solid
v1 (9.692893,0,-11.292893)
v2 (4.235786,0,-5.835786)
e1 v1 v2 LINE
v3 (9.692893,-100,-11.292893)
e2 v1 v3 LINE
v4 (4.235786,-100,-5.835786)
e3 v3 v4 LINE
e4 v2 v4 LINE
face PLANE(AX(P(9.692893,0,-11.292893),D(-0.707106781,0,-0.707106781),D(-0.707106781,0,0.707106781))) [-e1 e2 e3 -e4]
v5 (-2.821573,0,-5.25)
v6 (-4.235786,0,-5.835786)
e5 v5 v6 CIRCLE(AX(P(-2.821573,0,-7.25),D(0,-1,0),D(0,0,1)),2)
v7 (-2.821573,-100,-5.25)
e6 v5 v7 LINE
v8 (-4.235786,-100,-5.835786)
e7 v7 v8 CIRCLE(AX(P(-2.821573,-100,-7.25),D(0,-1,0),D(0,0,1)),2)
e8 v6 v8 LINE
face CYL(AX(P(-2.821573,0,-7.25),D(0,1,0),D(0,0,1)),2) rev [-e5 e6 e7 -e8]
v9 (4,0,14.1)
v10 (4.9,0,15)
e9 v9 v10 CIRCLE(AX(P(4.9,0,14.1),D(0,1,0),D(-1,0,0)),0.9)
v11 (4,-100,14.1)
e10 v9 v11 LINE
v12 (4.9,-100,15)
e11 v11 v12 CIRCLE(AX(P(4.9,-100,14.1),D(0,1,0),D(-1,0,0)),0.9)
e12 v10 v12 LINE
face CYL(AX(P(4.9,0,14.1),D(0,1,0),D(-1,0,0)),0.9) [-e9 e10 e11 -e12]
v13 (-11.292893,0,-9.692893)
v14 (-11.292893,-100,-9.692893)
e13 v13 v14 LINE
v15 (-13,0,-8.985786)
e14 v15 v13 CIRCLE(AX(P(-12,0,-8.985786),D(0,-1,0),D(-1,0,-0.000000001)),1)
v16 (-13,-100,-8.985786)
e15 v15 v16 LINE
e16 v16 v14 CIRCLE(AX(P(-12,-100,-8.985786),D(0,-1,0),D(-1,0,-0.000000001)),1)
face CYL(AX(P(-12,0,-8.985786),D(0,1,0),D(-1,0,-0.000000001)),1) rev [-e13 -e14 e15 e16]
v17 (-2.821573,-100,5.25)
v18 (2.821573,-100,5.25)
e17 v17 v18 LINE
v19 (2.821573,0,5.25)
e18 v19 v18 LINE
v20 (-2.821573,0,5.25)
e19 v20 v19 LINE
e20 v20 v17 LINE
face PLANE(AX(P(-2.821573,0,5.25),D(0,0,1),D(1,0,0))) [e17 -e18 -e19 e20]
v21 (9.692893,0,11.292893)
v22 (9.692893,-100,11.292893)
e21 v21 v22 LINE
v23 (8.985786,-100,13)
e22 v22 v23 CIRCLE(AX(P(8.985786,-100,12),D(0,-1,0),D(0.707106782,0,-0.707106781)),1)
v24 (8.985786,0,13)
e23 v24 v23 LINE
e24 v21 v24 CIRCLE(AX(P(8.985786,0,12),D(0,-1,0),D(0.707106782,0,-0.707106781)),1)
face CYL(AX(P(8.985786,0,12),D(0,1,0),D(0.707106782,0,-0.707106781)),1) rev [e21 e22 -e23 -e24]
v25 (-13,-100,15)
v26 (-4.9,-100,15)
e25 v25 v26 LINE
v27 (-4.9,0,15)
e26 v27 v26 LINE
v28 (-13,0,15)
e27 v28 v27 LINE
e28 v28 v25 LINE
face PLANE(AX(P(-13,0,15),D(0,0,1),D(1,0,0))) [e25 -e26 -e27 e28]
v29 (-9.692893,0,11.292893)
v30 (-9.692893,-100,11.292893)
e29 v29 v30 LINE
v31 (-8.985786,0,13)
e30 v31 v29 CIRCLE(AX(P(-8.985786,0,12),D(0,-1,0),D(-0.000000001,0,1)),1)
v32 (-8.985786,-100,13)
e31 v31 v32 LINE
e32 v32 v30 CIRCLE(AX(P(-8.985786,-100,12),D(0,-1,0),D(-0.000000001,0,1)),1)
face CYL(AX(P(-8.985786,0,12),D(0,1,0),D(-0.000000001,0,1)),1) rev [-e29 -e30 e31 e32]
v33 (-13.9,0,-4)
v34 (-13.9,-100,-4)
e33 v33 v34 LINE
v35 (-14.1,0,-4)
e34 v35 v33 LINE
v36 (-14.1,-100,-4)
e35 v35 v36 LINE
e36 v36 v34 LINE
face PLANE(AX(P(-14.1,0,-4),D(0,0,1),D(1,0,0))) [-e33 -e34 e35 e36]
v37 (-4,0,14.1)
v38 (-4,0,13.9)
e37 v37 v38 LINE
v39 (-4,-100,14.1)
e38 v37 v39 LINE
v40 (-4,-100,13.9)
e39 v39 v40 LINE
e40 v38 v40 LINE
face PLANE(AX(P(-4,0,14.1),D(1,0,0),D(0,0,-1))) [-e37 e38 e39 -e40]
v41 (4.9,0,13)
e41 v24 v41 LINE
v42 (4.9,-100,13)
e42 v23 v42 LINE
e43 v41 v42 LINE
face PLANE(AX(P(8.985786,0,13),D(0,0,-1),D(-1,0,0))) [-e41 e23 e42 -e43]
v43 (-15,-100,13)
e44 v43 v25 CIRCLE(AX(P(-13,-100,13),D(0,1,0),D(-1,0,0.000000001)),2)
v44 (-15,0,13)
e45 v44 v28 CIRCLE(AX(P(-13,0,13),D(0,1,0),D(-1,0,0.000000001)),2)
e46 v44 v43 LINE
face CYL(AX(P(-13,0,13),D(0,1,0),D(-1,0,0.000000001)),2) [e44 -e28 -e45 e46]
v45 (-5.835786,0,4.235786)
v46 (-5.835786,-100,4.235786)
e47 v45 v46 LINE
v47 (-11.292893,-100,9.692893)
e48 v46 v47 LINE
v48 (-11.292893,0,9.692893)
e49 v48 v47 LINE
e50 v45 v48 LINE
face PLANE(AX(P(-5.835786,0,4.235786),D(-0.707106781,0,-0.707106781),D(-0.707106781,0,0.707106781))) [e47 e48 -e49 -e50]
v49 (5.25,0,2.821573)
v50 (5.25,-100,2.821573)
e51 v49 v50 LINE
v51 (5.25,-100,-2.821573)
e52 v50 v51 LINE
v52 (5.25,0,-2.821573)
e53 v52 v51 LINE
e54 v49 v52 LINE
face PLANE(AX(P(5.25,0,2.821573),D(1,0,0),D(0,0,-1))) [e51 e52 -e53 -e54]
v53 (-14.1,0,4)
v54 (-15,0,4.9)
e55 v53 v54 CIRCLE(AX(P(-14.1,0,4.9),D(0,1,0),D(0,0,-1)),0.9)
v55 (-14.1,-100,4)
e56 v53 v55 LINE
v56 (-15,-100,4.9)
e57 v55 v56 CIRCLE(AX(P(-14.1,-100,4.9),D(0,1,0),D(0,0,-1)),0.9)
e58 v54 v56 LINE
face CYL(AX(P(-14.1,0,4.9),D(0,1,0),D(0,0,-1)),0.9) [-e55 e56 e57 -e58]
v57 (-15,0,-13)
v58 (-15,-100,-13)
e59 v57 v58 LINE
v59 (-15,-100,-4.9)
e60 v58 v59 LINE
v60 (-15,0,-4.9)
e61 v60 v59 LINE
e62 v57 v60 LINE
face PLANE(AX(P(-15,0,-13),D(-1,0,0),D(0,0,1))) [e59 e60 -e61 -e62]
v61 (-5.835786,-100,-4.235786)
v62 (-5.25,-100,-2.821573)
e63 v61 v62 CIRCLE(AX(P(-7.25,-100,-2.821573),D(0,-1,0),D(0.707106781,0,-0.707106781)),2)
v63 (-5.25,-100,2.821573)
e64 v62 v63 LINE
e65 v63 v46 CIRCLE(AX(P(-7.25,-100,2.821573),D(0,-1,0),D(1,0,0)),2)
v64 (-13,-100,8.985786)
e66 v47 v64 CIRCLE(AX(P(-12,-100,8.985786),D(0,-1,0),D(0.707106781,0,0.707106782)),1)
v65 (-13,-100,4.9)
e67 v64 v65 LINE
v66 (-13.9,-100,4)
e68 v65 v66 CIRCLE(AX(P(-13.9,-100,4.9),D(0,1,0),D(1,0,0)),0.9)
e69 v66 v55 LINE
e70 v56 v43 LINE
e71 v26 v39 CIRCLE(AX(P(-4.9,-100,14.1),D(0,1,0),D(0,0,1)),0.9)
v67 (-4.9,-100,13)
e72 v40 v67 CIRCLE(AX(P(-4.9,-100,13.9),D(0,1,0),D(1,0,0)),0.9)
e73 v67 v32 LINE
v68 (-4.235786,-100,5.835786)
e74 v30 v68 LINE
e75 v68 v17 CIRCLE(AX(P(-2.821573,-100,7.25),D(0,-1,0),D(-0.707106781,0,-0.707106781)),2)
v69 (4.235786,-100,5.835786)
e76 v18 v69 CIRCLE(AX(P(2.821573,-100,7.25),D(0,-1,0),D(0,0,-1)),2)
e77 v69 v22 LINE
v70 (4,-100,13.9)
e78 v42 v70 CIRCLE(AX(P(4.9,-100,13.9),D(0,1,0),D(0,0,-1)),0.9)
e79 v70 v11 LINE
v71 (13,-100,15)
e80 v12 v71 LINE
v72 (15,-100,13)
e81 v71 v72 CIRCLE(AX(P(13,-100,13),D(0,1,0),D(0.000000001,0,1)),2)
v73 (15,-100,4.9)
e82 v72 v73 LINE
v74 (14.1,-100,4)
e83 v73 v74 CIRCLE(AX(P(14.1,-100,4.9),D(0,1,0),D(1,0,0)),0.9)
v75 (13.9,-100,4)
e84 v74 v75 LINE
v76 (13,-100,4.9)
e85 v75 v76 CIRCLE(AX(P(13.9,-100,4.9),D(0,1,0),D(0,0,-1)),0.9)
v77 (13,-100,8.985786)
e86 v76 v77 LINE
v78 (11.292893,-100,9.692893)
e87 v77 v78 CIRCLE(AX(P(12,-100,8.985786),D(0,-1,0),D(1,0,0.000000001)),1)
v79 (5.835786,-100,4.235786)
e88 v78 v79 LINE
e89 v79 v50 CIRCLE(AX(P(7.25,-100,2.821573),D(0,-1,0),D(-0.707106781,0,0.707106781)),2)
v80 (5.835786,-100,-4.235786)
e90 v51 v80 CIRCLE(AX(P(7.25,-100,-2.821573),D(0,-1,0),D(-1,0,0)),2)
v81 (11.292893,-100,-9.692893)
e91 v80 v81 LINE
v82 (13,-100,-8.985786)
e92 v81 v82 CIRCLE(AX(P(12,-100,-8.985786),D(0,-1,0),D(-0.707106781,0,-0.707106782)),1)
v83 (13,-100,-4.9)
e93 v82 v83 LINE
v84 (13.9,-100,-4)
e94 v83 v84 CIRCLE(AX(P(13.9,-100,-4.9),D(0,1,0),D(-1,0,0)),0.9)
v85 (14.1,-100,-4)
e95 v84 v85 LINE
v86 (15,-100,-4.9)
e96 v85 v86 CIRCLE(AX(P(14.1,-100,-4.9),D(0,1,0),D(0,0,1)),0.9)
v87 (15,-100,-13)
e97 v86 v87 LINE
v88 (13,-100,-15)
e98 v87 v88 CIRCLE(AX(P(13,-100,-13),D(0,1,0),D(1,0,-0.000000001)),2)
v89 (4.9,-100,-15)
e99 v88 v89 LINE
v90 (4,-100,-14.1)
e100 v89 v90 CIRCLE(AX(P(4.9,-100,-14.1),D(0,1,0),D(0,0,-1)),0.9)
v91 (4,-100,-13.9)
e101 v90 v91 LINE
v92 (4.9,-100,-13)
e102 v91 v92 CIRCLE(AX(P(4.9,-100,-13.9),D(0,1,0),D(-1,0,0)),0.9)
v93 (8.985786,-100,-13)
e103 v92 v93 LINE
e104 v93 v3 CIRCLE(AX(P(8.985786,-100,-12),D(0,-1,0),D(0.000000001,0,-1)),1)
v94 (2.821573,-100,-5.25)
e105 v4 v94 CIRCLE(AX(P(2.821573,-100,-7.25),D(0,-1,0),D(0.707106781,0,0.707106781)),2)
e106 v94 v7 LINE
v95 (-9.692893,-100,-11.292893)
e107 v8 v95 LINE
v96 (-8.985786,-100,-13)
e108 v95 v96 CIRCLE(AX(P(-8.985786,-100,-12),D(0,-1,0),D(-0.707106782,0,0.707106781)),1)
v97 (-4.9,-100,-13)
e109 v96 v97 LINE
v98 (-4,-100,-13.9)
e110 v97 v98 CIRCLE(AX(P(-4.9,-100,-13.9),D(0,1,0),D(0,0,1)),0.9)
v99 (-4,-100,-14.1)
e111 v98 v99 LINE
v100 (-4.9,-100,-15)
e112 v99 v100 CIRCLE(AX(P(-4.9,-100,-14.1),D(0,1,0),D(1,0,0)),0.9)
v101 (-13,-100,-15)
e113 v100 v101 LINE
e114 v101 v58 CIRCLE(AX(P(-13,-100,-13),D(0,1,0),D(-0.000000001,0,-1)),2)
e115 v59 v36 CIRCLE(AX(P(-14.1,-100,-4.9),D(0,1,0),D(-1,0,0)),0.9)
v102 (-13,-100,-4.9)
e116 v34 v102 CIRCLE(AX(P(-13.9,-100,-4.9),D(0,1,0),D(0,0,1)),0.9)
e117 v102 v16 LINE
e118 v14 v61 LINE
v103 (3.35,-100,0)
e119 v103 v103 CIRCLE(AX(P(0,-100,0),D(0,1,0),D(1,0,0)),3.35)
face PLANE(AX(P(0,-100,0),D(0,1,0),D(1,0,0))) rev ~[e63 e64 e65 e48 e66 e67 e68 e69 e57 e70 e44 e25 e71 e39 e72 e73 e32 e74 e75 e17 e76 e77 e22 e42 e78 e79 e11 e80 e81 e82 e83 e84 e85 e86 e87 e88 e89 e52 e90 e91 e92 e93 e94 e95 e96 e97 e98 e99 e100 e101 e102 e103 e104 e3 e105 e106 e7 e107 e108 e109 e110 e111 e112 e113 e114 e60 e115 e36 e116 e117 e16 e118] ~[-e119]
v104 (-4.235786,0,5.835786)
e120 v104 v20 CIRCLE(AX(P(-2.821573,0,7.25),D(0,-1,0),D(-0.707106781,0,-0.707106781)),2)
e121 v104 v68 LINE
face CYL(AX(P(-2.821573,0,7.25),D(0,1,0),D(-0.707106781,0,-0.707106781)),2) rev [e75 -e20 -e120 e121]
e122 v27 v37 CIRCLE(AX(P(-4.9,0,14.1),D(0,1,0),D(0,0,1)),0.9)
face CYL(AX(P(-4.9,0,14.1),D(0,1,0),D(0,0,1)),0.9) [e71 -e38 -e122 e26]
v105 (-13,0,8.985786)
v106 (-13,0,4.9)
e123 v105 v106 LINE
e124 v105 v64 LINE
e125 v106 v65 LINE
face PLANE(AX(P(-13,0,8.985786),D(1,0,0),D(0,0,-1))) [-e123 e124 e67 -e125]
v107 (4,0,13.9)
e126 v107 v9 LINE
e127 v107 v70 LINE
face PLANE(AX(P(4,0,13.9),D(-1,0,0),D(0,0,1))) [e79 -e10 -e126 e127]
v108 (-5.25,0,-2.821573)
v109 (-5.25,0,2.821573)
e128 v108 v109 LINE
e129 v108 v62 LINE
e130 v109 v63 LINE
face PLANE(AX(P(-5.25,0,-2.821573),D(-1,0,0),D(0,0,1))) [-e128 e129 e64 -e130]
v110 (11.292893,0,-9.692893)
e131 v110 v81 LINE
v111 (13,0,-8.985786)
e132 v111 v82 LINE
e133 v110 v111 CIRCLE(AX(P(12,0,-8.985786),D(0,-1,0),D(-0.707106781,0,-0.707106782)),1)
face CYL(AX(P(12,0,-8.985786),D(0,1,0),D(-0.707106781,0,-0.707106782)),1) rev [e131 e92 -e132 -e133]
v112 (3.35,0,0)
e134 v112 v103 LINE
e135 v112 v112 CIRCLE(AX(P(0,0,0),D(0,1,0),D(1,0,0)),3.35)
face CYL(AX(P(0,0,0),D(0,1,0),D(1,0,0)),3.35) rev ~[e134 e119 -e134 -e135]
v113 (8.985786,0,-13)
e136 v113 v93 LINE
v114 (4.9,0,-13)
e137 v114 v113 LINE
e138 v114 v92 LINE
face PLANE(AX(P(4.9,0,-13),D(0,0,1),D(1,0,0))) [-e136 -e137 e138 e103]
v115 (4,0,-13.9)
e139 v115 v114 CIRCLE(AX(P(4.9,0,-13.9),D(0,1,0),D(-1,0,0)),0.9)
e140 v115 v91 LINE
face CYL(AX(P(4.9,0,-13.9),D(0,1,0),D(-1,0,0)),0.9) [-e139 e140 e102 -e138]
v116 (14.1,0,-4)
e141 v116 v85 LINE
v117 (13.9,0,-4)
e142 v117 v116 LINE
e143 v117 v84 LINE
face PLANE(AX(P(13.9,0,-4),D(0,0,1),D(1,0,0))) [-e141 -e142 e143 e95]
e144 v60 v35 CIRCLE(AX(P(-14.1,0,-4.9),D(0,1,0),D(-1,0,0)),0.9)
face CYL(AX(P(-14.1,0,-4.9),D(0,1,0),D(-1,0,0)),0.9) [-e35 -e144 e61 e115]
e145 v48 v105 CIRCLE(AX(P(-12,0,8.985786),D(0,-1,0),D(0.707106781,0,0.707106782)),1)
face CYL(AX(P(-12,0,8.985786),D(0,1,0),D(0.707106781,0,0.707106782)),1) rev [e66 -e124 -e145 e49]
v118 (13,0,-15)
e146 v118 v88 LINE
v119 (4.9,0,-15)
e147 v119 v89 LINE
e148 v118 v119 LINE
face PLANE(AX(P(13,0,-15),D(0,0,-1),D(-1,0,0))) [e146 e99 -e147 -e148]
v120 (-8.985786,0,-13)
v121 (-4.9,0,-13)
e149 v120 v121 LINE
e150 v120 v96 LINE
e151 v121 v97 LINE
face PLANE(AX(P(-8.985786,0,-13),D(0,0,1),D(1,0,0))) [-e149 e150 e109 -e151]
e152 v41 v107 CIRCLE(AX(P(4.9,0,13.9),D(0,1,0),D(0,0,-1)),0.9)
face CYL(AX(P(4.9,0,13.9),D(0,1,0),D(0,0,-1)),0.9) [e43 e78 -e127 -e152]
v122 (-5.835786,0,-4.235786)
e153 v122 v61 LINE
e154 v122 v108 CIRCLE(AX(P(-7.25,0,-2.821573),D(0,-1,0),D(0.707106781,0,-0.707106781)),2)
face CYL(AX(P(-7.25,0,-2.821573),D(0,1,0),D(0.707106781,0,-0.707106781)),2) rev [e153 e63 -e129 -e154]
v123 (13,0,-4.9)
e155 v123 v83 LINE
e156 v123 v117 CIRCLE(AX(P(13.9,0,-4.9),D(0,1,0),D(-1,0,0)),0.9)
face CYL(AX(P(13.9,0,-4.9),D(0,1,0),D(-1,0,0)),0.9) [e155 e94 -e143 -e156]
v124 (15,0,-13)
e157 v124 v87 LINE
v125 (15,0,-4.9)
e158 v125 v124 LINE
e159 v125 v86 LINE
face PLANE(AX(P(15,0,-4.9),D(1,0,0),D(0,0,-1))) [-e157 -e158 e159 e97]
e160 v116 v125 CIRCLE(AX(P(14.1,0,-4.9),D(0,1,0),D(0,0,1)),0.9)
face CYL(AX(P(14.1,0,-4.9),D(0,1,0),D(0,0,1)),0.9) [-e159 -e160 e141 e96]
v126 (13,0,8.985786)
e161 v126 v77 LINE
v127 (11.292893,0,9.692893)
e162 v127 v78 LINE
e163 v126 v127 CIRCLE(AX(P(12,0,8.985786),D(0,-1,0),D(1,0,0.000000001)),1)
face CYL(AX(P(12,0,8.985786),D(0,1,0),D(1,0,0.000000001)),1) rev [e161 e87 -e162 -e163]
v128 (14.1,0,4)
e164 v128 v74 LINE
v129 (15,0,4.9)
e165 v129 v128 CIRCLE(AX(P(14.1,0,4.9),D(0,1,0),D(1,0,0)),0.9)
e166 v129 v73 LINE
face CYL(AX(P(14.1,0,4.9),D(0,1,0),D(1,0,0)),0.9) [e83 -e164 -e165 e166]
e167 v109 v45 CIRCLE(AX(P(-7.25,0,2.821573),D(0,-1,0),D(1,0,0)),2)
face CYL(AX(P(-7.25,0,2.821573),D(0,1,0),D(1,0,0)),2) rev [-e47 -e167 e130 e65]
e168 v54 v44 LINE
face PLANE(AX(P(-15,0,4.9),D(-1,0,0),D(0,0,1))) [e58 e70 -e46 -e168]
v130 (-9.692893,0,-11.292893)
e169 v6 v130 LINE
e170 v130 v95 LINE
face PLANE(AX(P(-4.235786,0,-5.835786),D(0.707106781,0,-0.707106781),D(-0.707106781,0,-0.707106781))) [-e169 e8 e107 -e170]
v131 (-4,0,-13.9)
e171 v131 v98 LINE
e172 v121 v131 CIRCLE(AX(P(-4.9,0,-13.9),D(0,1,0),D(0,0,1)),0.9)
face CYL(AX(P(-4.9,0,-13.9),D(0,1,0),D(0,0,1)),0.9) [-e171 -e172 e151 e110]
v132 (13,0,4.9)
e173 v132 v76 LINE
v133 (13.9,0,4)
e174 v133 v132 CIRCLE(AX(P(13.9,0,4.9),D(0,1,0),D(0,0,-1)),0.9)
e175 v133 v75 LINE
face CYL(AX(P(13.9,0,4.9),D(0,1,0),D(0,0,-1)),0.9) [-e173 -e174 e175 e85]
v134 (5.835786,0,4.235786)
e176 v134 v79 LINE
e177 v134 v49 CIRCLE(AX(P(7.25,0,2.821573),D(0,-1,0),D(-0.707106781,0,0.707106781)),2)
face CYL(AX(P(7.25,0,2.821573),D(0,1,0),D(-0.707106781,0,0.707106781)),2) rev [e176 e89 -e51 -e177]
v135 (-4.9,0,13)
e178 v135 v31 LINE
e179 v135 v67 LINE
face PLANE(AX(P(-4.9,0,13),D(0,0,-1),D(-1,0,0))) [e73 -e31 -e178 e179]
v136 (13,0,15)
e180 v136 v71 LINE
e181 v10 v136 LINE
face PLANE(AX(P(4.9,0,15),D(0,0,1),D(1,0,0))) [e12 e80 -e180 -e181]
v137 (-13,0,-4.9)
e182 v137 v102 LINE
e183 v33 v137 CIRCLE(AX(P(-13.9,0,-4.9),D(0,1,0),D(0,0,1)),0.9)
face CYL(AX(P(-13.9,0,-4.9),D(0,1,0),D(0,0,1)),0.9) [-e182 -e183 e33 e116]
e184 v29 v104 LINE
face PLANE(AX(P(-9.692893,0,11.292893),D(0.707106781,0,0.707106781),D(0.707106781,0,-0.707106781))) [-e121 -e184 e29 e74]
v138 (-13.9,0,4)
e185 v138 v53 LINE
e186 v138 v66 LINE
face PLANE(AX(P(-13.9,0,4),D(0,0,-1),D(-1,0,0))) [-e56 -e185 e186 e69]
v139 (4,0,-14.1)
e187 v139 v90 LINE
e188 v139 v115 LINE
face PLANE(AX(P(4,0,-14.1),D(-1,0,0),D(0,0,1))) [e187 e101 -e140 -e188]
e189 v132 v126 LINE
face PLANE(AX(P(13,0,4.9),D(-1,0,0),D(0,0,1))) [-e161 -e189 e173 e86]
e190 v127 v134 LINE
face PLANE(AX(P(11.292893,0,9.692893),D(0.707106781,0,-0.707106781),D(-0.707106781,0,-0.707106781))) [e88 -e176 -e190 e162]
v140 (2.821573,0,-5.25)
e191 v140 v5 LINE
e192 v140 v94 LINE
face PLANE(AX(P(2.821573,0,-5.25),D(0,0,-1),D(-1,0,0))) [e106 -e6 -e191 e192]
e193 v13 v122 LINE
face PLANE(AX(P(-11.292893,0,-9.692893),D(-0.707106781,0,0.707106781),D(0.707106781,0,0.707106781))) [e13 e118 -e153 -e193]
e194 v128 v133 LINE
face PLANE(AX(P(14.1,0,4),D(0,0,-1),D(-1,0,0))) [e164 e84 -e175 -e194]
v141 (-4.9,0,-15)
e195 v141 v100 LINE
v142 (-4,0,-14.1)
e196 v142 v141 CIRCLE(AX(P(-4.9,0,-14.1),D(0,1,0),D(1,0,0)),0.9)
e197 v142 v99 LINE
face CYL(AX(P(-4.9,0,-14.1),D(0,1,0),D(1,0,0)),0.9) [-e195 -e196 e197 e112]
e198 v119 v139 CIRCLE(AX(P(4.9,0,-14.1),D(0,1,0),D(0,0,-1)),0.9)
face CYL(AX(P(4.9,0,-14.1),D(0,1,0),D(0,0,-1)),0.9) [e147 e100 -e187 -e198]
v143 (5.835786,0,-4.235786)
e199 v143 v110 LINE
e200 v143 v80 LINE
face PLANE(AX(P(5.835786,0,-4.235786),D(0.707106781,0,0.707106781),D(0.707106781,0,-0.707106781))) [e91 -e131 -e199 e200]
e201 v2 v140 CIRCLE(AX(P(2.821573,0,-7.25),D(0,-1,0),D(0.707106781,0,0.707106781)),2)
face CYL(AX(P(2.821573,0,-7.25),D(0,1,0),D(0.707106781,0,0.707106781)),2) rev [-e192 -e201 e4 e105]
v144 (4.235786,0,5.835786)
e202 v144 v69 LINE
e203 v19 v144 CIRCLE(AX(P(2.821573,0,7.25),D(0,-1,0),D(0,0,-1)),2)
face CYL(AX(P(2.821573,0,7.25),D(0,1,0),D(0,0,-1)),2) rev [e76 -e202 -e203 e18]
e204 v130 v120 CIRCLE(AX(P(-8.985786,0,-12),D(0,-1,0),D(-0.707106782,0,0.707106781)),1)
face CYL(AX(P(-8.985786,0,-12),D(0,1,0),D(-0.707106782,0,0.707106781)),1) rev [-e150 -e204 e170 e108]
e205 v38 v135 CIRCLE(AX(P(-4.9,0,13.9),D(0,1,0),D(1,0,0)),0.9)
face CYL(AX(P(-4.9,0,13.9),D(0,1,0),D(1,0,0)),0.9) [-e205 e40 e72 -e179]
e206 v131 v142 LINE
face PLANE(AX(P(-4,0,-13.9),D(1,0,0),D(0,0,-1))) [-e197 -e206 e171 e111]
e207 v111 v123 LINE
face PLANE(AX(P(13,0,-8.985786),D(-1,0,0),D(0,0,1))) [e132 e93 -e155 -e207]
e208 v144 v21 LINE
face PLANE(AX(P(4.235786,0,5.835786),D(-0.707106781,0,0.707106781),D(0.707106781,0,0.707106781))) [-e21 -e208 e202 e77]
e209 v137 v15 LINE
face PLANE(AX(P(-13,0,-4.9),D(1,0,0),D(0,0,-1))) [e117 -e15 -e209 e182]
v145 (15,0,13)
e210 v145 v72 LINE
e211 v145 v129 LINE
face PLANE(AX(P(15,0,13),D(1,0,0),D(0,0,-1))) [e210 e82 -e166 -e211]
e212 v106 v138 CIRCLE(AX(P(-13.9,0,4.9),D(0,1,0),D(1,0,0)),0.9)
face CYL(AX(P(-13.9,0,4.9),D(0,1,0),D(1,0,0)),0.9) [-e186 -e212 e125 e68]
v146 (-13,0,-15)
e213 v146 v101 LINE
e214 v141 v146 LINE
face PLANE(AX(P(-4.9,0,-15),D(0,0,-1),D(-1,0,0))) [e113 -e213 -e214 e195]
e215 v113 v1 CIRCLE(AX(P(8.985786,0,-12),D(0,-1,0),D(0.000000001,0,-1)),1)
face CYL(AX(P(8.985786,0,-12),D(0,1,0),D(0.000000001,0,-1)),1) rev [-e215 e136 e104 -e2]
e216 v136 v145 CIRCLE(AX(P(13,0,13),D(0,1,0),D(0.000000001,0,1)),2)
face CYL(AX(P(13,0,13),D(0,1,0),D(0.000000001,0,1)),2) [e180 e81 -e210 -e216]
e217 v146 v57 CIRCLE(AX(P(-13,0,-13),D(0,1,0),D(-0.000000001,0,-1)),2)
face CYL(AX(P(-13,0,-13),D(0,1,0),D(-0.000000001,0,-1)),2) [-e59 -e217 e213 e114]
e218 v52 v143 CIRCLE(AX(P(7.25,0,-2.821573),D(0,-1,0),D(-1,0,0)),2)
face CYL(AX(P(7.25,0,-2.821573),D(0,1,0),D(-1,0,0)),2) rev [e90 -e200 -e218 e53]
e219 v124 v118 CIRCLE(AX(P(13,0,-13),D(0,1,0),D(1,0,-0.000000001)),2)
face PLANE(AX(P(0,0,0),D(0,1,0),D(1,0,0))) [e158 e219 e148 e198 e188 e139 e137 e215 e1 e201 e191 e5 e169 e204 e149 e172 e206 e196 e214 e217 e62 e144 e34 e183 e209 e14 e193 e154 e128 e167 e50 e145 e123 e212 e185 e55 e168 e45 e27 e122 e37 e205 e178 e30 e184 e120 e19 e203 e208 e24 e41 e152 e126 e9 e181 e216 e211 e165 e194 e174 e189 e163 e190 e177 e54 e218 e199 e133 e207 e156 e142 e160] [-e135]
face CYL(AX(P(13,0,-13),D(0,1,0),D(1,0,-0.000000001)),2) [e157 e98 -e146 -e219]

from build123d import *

# Parameters (mm, degrees)
SKETCH1_R       = 3.35
EXTRUSION_DEPTH = 100


with BuildPart() as part:
    # Sketch1 → Extrusion (new body)
    with BuildSketch(Plane(origin=(0, 0, 0), x_dir=(1, 0, 0), z_dir=(0, 1, 0))):
        with BuildLine():
            Line((14.1, -4), (13.9, -4))
            ThreePointArc((13.9, -4), (13.263603897, -4.263603897), (13, -4.9))
            Line((13, -4.9), (13, -8.985786438))
            ThreePointArc((13, -8.985786438), (12.382683432, -9.90966597), (11.292893219, -9.692893219))
            Line((11.292893219, -9.692893219), (5.835786438, -4.235786438))
            ThreePointArc((5.835786438, -4.235786438), (5.402240935, -3.58693974), (5.25, -2.821572875))
            Line((5.25, -2.821572875), (5.25, 2.821572875))
            ThreePointArc((5.25, 2.821572875), (5.402240935, 3.58693974), (5.835786438, 4.235786438))
            Line((5.835786438, 4.235786438), (11.292893219, 9.692893219))
            ThreePointArc((11.292893219, 9.692893219), (12.382683432, 9.90966597), (13, 8.985786438))
            Line((13, 8.985786438), (13, 4.9))
            ThreePointArc((13, 4.9), (13.263603897, 4.263603897), (13.9, 4))
            Line((13.9, 4), (14.1, 4))
            ThreePointArc((14.1, 4), (14.736396103, 4.263603897), (15, 4.9))
            Line((15, 4.9), (15, 13))
            ThreePointArc((15, 13), (14.414213562, 14.414213562), (13, 15))
            Line((13, 15), (4.9, 15))
            ThreePointArc((4.9, 15), (4.263603897, 14.736396103), (4, 14.1))
            Line((4, 14.1), (4, 13.9))
            ThreePointArc((4, 13.9), (4.263603897, 13.263603897), (4.9, 13))
            Line((4.9, 13), (8.985786438, 13))
            ThreePointArc((8.985786438, 13), (9.90966597, 12.382683432), (9.692893219, 11.292893219))
            Line((9.692893219, 11.292893219), (4.235786438, 5.835786438))
            ThreePointArc((4.235786438, 5.835786438), (3.58693974, 5.402240935), (2.821572875, 5.25))
            Line((2.821572875, 5.25), (-2.821572875, 5.25))
            ThreePointArc((-2.821572875, 5.25), (-3.58693974, 5.402240935), (-4.235786438, 5.835786438))
            Line((-4.235786438, 5.835786438), (-9.692893219, 11.292893219))
            ThreePointArc((-9.692893219, 11.292893219), (-9.90966597, 12.382683432), (-8.985786438, 13))
            Line((-8.985786438, 13), (-4.9, 13))
            ThreePointArc((-4.9, 13), (-4.263603897, 13.263603897), (-4, 13.9))
            Line((-4, 13.9), (-4, 14.1))
            ThreePointArc((-4, 14.1), (-4.263603897, 14.736396103), (-4.9, 15))
            Line((-4.9, 15), (-13, 15))
            ThreePointArc((-13, 15), (-14.414213562, 14.414213562), (-15, 13))
            Line((-15, 13), (-15, 4.9))
            ThreePointArc((-15, 4.9), (-14.736396103, 4.263603897), (-14.1, 4))
            Line((-14.1, 4), (-13.9, 4))
            ThreePointArc((-13.9, 4), (-13.263603897, 4.263603897), (-13, 4.9))
            Line((-13, 4.9), (-13, 8.985786438))
            ThreePointArc((-13, 8.985786438), (-12.382683432, 9.90966597), (-11.292893219, 9.692893219))
            Line((-11.292893219, 9.692893219), (-5.835786438, 4.235786438))
            ThreePointArc((-5.835786438, 4.235786438), (-5.402240935, 3.58693974), (-5.25, 2.821572875))
            Line((-5.25, 2.821572875), (-5.25, -2.821572875))
            ThreePointArc((-5.25, -2.821572875), (-5.402240935, -3.58693974), (-5.835786438, -4.235786438))
            Line((-5.835786438, -4.235786438), (-11.292893219, -9.692893219))
            ThreePointArc((-11.292893219, -9.692893219), (-12.382683432, -9.90966597), (-13, -8.985786438))
            Line((-13, -8.985786438), (-13, -4.9))
            ThreePointArc((-13, -4.9), (-13.263603897, -4.263603897), (-13.9, -4))
            Line((-13.9, -4), (-14.1, -4))
            ThreePointArc((-14.1, -4), (-14.736396103, -4.263603897), (-15, -4.9))
            Line((-15, -4.9), (-15, -13))
            ThreePointArc((-15, -13), (-14.414213562, -14.414213562), (-13, -15))
            Line((-13, -15), (-4.9, -15))
            ThreePointArc((-4.9, -15), (-4.263603897, -14.736396103), (-4, -14.1))
            Line((-4, -14.1), (-4, -13.9))
            ThreePointArc((-4, -13.9), (-4.263603897, -13.263603897), (-4.9, -13))
            Line((-4.9, -13), (-8.985786438, -13))
            ThreePointArc((-8.985786438, -13), (-9.90966597, -12.382683432), (-9.692893219, -11.292893219))
            Line((-9.692893219, -11.292893219), (-4.235786438, -5.835786438))
            ThreePointArc((-4.235786438, -5.835786438), (-3.58693974, -5.402240935), (-2.821572875, -5.25))
            Line((-2.821572875, -5.25), (2.821572875, -5.25))
            ThreePointArc((2.821572875, -5.25), (3.58693974, -5.402240935), (4.235786438, -5.835786438))
            Line((4.235786438, -5.835786438), (9.692893219, -11.292893219))
            ThreePointArc((9.692893219, -11.292893219), (9.90966597, -12.382683432), (8.985786438, -13))
            Line((8.985786438, -13), (4.9, -13))
            ThreePointArc((4.9, -13), (4.263603897, -13.263603897), (4, -13.9))
            Line((4, -13.9), (4, -14.1))
            ThreePointArc((4, -14.1), (4.263603897, -14.736396103), (4.9, -15))
            Line((4.9, -15), (13, -15))
            ThreePointArc((13, -15), (14.414213562, -14.414213562), (15, -13))
            Line((15, -13), (15, -4.9))
            ThreePointArc((15, -4.9), (14.736396103, -4.263603897), (14.1, -4))
        make_face()
        Circle(SKETCH1_R, mode=Mode.SUBTRACT)
    extrude(amount=-EXTRUSION_DEPTH)


solid = part.part
